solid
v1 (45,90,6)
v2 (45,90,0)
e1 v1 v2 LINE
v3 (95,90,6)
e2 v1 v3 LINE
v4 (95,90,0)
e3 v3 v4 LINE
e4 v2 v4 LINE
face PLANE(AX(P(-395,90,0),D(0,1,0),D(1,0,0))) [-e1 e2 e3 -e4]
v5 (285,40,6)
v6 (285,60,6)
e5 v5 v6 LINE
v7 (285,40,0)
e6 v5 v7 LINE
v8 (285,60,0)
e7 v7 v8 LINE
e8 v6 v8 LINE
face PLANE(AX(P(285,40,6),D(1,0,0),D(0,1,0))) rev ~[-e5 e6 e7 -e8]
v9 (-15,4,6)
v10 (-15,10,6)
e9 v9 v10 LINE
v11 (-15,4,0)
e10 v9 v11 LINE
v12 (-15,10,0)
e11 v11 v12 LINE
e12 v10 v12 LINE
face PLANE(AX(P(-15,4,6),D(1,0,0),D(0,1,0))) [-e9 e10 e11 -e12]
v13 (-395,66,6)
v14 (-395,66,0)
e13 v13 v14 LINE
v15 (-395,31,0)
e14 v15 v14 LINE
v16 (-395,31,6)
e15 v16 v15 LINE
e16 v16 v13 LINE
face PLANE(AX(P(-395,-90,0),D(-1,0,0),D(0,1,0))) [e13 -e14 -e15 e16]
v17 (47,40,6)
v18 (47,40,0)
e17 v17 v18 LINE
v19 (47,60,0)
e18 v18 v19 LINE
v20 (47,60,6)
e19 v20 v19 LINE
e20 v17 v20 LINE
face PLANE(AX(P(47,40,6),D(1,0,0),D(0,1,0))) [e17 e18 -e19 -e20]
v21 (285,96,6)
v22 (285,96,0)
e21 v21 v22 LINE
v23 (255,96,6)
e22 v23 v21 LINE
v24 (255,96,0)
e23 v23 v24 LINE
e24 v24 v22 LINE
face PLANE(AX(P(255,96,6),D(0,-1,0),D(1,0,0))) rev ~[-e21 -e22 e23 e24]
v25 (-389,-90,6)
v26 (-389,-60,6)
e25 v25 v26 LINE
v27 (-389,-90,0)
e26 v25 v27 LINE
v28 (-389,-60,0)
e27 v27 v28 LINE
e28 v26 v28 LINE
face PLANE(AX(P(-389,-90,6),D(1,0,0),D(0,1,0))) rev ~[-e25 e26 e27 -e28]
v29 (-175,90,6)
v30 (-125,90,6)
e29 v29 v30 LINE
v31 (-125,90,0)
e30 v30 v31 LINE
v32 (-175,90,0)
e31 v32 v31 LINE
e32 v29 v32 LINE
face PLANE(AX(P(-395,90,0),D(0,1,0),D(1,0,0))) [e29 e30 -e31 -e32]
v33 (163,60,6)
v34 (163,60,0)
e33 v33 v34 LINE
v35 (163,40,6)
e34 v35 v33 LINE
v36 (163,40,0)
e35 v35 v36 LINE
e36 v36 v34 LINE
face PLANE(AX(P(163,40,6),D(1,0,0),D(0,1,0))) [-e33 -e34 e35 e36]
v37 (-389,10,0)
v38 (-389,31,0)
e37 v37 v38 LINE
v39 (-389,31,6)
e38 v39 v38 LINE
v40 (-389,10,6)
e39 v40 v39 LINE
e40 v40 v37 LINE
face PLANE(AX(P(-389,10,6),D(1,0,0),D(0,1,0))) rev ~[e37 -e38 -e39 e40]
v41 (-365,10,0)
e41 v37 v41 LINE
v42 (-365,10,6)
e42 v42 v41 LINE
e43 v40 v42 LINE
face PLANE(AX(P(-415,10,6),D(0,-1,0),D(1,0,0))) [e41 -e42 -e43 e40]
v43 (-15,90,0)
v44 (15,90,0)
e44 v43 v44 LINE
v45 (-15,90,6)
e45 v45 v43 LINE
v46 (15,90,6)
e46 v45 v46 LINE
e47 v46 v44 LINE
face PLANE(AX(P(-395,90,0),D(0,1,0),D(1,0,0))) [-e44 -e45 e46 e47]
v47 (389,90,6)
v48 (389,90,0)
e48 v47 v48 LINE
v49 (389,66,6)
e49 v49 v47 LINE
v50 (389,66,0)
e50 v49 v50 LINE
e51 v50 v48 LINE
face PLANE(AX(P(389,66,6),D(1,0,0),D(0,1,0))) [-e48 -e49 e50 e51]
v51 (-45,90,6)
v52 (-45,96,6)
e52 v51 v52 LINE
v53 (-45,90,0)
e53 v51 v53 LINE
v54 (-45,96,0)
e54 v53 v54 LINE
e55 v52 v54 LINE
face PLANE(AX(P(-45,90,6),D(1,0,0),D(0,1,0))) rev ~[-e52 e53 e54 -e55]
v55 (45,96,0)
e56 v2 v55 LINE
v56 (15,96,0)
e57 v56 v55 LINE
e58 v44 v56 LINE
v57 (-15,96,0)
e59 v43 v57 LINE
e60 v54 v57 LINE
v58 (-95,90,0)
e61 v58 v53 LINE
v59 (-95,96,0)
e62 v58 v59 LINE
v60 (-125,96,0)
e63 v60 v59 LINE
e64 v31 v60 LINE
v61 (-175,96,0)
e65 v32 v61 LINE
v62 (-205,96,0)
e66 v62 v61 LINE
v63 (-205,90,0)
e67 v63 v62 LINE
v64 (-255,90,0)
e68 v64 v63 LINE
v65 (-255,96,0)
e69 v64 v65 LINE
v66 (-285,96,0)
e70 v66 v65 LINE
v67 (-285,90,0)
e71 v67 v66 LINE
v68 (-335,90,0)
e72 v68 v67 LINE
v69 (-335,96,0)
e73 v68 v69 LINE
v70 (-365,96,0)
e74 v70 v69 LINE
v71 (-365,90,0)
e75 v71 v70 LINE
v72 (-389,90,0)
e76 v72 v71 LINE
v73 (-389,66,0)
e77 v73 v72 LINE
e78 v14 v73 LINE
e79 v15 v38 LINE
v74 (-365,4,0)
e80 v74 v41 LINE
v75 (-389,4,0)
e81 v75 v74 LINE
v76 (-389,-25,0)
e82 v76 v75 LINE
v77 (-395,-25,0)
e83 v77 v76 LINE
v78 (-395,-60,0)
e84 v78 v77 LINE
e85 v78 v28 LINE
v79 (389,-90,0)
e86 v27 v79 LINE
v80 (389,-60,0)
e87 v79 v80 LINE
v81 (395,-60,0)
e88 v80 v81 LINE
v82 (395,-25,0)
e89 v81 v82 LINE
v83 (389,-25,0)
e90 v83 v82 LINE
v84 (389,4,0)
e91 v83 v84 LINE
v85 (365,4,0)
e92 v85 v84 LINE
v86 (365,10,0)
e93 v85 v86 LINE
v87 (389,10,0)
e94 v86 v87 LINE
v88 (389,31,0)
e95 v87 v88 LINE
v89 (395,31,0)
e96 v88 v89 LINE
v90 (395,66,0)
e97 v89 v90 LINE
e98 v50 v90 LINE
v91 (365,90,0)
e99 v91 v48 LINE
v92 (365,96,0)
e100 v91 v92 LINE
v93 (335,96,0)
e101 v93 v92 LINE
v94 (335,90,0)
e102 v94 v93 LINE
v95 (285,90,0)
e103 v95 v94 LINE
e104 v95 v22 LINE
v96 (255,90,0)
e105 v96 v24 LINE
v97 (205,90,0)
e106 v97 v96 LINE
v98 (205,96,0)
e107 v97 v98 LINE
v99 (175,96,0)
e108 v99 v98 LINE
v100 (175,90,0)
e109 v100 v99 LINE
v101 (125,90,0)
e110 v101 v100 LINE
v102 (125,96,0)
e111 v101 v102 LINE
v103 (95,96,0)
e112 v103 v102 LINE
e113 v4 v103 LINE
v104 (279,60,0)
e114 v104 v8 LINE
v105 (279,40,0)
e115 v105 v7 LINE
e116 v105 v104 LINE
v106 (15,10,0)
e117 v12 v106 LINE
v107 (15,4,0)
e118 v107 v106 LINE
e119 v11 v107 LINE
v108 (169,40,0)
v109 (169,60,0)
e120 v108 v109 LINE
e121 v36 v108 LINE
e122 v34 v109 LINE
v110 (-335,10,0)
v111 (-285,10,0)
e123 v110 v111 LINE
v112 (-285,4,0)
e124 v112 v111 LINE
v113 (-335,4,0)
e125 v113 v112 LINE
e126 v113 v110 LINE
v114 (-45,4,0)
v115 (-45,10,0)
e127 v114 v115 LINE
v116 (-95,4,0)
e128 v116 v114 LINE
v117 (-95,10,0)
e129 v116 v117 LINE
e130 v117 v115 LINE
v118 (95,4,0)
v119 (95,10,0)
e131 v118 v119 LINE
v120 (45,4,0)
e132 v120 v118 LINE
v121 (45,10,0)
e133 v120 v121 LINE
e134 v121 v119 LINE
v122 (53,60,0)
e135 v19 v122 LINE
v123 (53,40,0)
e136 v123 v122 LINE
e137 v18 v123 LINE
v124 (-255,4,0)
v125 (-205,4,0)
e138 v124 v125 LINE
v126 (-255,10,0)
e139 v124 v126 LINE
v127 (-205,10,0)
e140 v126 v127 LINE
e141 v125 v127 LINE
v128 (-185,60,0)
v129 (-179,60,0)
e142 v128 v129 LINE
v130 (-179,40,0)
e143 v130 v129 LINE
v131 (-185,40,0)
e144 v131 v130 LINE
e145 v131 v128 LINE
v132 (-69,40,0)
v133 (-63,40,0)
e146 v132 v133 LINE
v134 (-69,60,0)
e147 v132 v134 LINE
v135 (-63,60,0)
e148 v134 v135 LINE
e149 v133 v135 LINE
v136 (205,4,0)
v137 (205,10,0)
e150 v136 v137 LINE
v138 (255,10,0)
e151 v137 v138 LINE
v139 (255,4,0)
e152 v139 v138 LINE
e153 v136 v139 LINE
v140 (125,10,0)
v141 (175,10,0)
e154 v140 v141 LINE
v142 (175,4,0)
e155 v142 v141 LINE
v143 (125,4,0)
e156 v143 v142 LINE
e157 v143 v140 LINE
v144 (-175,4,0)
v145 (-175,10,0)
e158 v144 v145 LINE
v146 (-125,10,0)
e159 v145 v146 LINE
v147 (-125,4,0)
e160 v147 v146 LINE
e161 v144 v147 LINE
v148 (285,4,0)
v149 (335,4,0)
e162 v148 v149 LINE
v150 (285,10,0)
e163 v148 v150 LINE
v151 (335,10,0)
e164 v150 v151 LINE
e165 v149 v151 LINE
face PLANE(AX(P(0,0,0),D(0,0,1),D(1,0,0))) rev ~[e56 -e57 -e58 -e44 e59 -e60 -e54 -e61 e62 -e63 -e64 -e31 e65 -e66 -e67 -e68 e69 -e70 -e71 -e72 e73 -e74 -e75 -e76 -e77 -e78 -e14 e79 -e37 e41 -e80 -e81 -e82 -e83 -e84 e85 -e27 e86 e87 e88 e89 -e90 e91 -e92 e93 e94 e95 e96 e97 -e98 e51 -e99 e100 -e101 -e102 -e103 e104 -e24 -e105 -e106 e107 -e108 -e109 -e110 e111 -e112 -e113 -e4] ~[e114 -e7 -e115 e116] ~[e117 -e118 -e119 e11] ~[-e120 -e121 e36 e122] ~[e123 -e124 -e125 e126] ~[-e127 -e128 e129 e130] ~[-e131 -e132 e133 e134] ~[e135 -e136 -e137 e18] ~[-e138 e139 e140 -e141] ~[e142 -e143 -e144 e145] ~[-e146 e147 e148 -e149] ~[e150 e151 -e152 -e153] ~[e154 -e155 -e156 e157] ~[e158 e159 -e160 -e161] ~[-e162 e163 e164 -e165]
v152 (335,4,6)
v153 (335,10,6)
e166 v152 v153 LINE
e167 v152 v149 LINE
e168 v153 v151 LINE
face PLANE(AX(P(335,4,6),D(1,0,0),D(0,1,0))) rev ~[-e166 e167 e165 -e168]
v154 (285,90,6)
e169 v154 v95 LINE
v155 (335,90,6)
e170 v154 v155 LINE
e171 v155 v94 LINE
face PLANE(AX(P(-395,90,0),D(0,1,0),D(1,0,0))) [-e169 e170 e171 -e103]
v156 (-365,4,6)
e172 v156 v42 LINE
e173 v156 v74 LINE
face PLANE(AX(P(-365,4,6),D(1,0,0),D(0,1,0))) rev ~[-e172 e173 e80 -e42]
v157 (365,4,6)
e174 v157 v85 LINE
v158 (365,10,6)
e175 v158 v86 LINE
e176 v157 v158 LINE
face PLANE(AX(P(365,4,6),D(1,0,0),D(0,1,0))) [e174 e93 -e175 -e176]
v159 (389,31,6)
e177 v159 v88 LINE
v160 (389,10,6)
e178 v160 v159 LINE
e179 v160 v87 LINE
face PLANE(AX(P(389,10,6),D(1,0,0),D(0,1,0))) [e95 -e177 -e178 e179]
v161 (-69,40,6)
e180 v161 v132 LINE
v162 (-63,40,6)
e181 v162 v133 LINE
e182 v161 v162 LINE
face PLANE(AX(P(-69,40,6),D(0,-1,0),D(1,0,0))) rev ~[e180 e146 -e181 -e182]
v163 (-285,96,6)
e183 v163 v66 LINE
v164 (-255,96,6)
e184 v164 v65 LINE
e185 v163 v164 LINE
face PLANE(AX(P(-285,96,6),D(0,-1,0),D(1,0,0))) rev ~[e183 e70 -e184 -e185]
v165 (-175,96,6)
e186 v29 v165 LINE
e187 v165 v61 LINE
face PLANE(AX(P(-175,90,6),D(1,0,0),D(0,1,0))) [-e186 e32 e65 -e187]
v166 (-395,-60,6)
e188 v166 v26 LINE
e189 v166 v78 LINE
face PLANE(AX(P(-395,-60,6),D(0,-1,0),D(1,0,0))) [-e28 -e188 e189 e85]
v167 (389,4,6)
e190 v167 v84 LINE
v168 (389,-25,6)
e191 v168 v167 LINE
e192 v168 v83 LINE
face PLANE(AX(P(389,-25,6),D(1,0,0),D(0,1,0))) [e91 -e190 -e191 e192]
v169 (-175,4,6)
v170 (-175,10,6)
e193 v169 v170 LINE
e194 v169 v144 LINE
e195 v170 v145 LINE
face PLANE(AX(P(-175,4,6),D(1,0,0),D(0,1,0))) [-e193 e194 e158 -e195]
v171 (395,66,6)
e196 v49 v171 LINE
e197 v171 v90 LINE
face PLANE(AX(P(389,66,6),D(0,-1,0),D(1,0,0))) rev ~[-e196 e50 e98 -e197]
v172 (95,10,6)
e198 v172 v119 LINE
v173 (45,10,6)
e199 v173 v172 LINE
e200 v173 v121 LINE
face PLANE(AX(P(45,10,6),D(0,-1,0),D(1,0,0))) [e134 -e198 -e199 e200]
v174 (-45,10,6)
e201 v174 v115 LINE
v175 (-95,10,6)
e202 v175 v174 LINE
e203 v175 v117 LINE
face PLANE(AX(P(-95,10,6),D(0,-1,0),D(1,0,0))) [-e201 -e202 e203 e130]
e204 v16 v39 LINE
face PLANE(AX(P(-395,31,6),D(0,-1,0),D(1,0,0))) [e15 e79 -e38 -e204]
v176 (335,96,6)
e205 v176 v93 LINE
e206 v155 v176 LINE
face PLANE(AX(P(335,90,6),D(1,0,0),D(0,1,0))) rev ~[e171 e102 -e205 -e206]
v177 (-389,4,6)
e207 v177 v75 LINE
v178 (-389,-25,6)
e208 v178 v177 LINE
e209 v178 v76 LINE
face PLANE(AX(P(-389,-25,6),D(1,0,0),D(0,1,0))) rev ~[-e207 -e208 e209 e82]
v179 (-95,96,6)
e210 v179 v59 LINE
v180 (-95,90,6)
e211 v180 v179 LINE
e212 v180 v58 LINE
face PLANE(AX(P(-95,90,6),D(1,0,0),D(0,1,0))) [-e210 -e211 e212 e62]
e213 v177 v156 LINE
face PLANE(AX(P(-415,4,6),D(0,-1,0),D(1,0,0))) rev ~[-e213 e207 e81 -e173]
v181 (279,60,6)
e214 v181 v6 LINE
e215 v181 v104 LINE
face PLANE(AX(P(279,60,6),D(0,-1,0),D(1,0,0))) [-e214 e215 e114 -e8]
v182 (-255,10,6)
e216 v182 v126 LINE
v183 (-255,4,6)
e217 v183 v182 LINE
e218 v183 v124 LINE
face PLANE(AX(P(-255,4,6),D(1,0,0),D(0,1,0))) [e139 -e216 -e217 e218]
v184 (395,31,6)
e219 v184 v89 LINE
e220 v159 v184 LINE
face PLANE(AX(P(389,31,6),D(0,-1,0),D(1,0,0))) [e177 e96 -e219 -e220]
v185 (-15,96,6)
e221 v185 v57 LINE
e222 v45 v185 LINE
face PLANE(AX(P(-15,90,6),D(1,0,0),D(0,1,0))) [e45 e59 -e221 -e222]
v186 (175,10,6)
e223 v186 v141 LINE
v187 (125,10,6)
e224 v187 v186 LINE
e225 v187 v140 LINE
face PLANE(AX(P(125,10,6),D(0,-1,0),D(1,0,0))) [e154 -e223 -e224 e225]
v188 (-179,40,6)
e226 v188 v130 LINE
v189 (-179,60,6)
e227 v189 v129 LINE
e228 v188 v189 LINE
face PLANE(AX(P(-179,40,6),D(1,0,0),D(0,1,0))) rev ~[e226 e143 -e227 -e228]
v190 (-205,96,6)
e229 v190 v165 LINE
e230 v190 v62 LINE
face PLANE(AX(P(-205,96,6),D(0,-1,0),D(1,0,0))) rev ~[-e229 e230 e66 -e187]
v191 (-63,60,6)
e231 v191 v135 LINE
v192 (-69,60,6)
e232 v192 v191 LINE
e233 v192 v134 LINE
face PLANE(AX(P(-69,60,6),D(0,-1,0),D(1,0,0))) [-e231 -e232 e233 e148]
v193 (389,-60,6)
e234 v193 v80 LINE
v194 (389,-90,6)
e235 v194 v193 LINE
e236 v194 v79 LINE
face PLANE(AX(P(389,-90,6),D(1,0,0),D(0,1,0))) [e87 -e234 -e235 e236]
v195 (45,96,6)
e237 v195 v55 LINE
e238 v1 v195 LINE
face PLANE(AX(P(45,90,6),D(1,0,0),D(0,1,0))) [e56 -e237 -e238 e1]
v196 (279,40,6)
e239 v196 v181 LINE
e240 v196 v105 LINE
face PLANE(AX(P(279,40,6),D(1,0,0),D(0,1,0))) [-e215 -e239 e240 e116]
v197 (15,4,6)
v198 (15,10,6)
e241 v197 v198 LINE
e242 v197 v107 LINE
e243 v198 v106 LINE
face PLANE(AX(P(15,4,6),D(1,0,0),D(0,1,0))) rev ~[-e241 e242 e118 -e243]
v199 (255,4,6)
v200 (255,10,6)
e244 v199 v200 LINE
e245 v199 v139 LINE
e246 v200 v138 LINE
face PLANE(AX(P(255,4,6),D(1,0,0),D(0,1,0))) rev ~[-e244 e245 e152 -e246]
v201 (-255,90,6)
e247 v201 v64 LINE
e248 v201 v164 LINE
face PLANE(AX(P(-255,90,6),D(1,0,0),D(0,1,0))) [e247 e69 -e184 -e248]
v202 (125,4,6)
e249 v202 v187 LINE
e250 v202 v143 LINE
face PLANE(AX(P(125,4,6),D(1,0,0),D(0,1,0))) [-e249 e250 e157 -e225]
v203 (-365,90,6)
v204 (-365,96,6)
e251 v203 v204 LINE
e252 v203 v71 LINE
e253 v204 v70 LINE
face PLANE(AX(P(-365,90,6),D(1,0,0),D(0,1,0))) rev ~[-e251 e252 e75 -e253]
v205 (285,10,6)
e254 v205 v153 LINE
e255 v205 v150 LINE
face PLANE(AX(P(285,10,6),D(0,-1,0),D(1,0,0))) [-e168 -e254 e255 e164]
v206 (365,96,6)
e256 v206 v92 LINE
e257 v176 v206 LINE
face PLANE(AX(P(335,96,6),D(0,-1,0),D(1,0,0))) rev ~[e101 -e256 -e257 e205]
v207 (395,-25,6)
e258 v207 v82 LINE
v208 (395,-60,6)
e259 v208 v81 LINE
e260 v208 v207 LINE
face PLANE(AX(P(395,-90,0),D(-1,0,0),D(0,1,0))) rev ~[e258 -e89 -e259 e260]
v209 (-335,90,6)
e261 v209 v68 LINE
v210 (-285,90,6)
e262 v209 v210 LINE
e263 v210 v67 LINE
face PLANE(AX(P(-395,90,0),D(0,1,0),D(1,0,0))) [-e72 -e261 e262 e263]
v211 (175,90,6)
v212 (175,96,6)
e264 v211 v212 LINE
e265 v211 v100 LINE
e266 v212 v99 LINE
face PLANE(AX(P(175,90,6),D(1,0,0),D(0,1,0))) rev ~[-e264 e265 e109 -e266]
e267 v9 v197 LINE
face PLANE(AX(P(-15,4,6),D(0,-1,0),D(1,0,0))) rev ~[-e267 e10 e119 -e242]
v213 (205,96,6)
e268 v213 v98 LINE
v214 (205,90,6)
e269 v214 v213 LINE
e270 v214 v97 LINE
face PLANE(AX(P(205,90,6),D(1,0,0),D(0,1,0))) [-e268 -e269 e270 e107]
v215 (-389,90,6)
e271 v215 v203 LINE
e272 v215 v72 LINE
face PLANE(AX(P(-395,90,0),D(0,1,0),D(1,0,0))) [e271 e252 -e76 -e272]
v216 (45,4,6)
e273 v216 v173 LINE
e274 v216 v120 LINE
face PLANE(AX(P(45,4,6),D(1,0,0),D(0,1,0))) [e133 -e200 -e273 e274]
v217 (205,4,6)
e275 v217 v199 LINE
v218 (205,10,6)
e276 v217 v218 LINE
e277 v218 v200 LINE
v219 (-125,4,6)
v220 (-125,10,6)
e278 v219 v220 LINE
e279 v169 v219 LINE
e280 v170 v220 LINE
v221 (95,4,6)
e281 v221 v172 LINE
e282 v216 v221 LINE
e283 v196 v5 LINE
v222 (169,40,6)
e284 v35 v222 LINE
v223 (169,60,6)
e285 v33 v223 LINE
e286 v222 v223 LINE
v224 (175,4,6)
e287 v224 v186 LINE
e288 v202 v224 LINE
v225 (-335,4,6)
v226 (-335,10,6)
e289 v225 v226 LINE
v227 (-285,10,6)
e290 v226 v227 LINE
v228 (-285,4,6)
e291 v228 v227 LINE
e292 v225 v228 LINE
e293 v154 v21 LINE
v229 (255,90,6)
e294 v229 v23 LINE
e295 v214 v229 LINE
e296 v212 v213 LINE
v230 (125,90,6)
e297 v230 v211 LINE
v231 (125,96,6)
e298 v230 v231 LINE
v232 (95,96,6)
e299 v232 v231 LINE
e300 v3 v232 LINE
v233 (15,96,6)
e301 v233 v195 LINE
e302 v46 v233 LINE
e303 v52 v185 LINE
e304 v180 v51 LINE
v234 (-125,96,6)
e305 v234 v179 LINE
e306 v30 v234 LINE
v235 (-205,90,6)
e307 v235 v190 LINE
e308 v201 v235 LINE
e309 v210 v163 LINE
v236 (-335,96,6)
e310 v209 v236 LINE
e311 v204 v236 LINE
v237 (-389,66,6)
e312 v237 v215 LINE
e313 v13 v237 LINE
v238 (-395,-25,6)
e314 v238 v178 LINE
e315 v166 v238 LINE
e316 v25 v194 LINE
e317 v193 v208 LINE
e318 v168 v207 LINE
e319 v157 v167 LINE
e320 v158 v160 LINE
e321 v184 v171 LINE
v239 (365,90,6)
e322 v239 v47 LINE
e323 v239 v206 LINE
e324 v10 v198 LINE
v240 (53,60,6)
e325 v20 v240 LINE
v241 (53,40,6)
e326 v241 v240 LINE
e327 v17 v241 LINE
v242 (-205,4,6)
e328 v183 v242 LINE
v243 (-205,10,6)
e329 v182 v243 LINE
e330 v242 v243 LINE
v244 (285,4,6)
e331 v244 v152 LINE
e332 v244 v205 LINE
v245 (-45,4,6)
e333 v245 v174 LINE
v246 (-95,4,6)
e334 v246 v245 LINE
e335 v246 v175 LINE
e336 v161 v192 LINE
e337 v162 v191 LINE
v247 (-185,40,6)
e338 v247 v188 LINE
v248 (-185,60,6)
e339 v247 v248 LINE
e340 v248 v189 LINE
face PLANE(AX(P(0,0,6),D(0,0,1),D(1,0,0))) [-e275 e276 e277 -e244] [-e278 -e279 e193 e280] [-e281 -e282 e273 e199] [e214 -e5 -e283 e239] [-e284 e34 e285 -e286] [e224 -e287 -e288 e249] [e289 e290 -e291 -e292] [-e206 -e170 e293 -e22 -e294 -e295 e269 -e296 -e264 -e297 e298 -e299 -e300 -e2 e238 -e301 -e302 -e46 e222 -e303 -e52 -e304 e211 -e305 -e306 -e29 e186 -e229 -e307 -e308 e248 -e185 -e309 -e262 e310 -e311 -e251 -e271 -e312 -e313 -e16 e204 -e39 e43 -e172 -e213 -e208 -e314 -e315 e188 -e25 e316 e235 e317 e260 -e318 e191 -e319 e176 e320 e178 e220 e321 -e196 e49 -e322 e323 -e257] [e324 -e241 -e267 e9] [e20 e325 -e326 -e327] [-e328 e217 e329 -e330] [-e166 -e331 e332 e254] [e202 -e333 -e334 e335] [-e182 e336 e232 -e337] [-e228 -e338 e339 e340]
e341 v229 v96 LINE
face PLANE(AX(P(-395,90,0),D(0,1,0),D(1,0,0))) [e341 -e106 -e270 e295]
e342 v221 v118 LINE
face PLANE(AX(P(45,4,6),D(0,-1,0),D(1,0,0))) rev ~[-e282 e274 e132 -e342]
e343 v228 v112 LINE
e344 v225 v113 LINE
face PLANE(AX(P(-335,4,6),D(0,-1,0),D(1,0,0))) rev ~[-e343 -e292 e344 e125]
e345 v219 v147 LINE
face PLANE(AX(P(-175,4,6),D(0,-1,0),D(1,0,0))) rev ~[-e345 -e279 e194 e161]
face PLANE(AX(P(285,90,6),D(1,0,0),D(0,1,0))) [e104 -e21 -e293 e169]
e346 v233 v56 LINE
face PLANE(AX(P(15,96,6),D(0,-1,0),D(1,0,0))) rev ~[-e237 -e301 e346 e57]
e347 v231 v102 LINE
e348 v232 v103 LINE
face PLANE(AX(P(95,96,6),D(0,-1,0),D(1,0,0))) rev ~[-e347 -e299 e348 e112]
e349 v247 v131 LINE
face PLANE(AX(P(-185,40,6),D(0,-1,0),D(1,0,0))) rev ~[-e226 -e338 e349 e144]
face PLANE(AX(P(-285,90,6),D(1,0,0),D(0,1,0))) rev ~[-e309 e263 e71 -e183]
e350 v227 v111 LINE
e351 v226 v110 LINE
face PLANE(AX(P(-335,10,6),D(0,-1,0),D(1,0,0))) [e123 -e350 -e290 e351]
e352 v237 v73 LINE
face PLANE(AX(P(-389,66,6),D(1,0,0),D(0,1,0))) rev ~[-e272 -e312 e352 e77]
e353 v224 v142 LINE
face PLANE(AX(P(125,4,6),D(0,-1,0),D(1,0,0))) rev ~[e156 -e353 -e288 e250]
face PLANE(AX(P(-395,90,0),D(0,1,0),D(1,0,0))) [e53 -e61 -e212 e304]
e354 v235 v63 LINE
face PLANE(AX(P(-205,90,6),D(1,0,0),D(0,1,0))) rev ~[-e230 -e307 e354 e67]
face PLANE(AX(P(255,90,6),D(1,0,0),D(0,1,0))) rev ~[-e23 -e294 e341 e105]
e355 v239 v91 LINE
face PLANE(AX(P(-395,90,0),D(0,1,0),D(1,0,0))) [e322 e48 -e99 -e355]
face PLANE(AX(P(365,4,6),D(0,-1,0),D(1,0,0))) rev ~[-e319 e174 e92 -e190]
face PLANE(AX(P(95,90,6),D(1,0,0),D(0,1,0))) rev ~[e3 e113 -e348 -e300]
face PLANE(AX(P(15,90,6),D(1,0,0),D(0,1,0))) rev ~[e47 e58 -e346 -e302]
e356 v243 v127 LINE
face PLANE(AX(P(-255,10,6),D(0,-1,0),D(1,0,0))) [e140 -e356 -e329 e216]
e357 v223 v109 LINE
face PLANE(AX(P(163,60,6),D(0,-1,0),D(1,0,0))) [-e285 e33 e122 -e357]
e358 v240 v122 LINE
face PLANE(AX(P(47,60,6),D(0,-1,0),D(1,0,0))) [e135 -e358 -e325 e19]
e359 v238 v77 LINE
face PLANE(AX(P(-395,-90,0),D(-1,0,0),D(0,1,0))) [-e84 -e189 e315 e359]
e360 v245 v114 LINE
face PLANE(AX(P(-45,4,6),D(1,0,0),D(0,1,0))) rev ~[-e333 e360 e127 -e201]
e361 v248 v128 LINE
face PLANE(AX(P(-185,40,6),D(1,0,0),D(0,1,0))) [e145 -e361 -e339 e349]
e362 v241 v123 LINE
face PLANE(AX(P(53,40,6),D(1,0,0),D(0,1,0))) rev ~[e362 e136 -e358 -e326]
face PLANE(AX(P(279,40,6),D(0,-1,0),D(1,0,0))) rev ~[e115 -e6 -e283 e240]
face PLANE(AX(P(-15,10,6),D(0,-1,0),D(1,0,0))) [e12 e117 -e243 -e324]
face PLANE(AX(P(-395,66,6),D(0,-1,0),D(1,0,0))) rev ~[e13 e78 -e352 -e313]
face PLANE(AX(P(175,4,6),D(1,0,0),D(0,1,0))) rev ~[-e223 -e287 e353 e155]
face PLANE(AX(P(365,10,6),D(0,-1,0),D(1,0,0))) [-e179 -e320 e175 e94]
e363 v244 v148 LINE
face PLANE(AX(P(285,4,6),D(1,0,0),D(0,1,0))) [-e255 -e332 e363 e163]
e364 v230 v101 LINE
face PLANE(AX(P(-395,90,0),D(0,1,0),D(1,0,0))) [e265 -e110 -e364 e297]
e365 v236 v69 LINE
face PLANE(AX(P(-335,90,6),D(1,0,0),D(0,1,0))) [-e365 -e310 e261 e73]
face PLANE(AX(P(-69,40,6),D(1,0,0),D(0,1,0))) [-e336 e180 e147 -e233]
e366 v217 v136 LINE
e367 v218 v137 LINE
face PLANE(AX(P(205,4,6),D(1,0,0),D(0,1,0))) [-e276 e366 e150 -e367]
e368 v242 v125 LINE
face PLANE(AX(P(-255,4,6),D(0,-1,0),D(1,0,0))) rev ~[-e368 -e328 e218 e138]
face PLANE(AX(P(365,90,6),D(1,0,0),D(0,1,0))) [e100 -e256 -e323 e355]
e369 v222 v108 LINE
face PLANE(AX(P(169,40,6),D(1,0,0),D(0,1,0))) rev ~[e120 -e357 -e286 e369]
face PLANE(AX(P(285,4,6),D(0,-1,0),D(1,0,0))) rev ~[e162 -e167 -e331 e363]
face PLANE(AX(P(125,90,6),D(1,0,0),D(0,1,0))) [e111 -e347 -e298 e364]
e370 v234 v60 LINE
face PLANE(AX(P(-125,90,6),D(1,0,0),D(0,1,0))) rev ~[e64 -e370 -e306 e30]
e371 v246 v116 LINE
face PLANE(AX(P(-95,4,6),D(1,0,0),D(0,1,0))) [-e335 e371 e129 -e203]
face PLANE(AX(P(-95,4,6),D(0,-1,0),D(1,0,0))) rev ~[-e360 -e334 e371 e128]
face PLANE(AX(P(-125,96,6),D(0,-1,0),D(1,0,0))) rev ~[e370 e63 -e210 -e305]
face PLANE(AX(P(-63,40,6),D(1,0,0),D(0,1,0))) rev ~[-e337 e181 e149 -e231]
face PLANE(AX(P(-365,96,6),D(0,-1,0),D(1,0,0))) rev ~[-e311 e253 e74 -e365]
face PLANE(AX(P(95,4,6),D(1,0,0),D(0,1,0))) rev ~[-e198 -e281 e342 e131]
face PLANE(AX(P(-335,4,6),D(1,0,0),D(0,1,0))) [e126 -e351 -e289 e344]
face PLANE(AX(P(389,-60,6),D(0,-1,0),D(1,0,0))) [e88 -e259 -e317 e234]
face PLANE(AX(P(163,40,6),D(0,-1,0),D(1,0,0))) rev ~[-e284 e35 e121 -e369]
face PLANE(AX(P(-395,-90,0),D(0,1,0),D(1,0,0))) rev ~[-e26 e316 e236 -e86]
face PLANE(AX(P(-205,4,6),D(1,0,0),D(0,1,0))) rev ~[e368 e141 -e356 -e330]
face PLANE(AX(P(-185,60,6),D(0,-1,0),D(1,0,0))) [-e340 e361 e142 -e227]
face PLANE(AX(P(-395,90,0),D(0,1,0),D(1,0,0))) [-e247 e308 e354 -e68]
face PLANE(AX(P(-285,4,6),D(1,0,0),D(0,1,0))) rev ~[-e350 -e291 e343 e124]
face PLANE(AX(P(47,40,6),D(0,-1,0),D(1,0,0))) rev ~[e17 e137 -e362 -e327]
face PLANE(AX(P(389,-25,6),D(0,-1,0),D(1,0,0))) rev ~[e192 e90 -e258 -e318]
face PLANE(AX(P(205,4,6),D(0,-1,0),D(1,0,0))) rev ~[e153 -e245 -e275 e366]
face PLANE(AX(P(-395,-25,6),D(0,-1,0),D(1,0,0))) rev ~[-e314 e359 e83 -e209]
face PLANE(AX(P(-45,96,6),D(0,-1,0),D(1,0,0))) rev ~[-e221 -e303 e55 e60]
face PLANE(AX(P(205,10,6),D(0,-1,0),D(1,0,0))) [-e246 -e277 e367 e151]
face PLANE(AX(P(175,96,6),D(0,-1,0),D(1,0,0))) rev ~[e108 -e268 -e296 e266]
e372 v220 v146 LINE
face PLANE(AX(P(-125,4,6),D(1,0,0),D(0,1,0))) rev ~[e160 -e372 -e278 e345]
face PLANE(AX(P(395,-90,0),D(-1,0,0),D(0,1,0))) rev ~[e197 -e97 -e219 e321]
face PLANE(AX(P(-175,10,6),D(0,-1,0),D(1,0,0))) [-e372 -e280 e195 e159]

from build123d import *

# Parameters (mm, degrees)
SKETCH1_W           = 790
SKETCH1_H           = 180
BOSS_EXTRUDE1_DEPTH = 6
SKETCH2_W           = 50
SKETCH2_H           = 6
SKETCH2_W_2         = 30
CUT_EXTRUDE1_DEPTH  = 10
SKETCH3_W           = 6
SKETCH3_H           = 20
CUT_EXTRUDE2_DEPTH  = 10
SKETCH4_W           = 30
SKETCH4_H           = 6
BOSS_EXTRUDE2_DEPTH = 6
SKETCH5_W           = 6
SKETCH5_H           = 30
SKETCH5_H_2         = 29
SKETCH5_H_3         = 24
SKETCH5_H_4         = 21
CUT_EXTRUDE3_DEPTH  = 6


with BuildPart() as part:
    # Sketch1 → Boss-Extrude1 (new body)
    with BuildSketch(Plane.XY):
        Rectangle(SKETCH1_W, SKETCH1_H)
    extrude(amount=BOSS_EXTRUDE1_DEPTH)

    # Sketch2 → Cut-Extrude1 (cut)
    with BuildSketch(Plane.XY.offset(6)):
        with Locations((150, 7)):
            Rectangle(SKETCH2_W, SKETCH2_H)
        with Locations((0, 7)):
            Rectangle(SKETCH2_W_2, SKETCH2_H)
        with Locations((70, 7)):
            Rectangle(SKETCH2_W, SKETCH2_H)
        with Locations((230, 7)):
            Rectangle(SKETCH2_W, SKETCH2_H)
        with Locations((310, 7)):
            Rectangle(SKETCH2_W, SKETCH2_H)
        with Locations((390, 7)):
            Rectangle(SKETCH2_W, SKETCH2_H)
        with Locations((-390, 7)):
            Rectangle(SKETCH2_W, SKETCH2_H)
        with Locations((-310, 7)):
            Rectangle(SKETCH2_W, SKETCH2_H)
        with Locations((-230, 7)):
            Rectangle(SKETCH2_W, SKETCH2_H)
        with Locations((-150, 7)):
            Rectangle(SKETCH2_W, SKETCH2_H)
        with Locations((-70, 7)):
            Rectangle(SKETCH2_W, SKETCH2_H)
    extrude(amount=-CUT_EXTRUDE1_DEPTH, mode=Mode.SUBTRACT)

    # Sketch3 → Cut-Extrude2 (cut)
    with BuildSketch(Plane.XY.offset(6)):
        with Locations((-66, 50)):
            Rectangle(SKETCH3_W, SKETCH3_H)
        with Locations((-182, 50)):
            Rectangle(SKETCH3_W, SKETCH3_H)
        with Locations((50, 50)):
            Rectangle(SKETCH3_W, SKETCH3_H)
        with Locations((166, 50)):
            Rectangle(SKETCH3_W, SKETCH3_H)
        with Locations((282, 50)):
            Rectangle(SKETCH3_W, SKETCH3_H)
    extrude(amount=-CUT_EXTRUDE2_DEPTH, mode=Mode.SUBTRACT)

    # Sketch4 → Boss-Extrude2 (add)
    with BuildSketch(Plane.XY.offset(6)):
        with Locations((110, 93)):
            Rectangle(SKETCH4_W, SKETCH4_H)
        with Locations((30, 93)):
            Rectangle(SKETCH4_W, SKETCH4_H)
        with Locations((190, 93)):
            Rectangle(SKETCH4_W, SKETCH4_H)
        with Locations((270, 93)):
            Rectangle(SKETCH4_W, SKETCH4_H)
        with Locations((350, 93)):
            Rectangle(SKETCH4_W, SKETCH4_H)
        with Locations((-350, 93)):
            Rectangle(SKETCH4_W, SKETCH4_H)
        with Locations((-270, 93)):
            Rectangle(SKETCH4_W, SKETCH4_H)
        with Locations((-190, 93)):
            Rectangle(SKETCH4_W, SKETCH4_H)
        with Locations((-30, 93)):
            Rectangle(SKETCH4_W, SKETCH4_H)
        with Locations((-110, 93)):
            Rectangle(SKETCH4_W, SKETCH4_H)
    extrude(amount=-BOSS_EXTRUDE2_DEPTH)

    # Sketch5 → Cut-Extrude3 (cut)
    with BuildSketch(Plane.XY.offset(6)):
        with Locations((392, -75)):
            Rectangle(SKETCH5_W, SKETCH5_H)
        with Locations((392, -10.5)):
            Rectangle(SKETCH5_W, SKETCH5_H_2)
        with Locations((392, 78)):
            Rectangle(SKETCH5_W, SKETCH5_H_3)
        with Locations((392, 20.5)):
            Rectangle(SKETCH5_W, SKETCH5_H_4)
        with Locations((-392, 20.5)):
            Rectangle(SKETCH5_W, SKETCH5_H_4)
        with Locations((-392, 78)):
            Rectangle(SKETCH5_W, SKETCH5_H_3)
        with Locations((-392, -10.5)):
            Rectangle(SKETCH5_W, SKETCH5_H_2)
        with Locations((-392, -75)):
            Rectangle(SKETCH5_W, SKETCH5_H)
    extrude(amount=-CUT_EXTRUDE3_DEPTH, mode=Mode.SUBTRACT)


solid = part.part
